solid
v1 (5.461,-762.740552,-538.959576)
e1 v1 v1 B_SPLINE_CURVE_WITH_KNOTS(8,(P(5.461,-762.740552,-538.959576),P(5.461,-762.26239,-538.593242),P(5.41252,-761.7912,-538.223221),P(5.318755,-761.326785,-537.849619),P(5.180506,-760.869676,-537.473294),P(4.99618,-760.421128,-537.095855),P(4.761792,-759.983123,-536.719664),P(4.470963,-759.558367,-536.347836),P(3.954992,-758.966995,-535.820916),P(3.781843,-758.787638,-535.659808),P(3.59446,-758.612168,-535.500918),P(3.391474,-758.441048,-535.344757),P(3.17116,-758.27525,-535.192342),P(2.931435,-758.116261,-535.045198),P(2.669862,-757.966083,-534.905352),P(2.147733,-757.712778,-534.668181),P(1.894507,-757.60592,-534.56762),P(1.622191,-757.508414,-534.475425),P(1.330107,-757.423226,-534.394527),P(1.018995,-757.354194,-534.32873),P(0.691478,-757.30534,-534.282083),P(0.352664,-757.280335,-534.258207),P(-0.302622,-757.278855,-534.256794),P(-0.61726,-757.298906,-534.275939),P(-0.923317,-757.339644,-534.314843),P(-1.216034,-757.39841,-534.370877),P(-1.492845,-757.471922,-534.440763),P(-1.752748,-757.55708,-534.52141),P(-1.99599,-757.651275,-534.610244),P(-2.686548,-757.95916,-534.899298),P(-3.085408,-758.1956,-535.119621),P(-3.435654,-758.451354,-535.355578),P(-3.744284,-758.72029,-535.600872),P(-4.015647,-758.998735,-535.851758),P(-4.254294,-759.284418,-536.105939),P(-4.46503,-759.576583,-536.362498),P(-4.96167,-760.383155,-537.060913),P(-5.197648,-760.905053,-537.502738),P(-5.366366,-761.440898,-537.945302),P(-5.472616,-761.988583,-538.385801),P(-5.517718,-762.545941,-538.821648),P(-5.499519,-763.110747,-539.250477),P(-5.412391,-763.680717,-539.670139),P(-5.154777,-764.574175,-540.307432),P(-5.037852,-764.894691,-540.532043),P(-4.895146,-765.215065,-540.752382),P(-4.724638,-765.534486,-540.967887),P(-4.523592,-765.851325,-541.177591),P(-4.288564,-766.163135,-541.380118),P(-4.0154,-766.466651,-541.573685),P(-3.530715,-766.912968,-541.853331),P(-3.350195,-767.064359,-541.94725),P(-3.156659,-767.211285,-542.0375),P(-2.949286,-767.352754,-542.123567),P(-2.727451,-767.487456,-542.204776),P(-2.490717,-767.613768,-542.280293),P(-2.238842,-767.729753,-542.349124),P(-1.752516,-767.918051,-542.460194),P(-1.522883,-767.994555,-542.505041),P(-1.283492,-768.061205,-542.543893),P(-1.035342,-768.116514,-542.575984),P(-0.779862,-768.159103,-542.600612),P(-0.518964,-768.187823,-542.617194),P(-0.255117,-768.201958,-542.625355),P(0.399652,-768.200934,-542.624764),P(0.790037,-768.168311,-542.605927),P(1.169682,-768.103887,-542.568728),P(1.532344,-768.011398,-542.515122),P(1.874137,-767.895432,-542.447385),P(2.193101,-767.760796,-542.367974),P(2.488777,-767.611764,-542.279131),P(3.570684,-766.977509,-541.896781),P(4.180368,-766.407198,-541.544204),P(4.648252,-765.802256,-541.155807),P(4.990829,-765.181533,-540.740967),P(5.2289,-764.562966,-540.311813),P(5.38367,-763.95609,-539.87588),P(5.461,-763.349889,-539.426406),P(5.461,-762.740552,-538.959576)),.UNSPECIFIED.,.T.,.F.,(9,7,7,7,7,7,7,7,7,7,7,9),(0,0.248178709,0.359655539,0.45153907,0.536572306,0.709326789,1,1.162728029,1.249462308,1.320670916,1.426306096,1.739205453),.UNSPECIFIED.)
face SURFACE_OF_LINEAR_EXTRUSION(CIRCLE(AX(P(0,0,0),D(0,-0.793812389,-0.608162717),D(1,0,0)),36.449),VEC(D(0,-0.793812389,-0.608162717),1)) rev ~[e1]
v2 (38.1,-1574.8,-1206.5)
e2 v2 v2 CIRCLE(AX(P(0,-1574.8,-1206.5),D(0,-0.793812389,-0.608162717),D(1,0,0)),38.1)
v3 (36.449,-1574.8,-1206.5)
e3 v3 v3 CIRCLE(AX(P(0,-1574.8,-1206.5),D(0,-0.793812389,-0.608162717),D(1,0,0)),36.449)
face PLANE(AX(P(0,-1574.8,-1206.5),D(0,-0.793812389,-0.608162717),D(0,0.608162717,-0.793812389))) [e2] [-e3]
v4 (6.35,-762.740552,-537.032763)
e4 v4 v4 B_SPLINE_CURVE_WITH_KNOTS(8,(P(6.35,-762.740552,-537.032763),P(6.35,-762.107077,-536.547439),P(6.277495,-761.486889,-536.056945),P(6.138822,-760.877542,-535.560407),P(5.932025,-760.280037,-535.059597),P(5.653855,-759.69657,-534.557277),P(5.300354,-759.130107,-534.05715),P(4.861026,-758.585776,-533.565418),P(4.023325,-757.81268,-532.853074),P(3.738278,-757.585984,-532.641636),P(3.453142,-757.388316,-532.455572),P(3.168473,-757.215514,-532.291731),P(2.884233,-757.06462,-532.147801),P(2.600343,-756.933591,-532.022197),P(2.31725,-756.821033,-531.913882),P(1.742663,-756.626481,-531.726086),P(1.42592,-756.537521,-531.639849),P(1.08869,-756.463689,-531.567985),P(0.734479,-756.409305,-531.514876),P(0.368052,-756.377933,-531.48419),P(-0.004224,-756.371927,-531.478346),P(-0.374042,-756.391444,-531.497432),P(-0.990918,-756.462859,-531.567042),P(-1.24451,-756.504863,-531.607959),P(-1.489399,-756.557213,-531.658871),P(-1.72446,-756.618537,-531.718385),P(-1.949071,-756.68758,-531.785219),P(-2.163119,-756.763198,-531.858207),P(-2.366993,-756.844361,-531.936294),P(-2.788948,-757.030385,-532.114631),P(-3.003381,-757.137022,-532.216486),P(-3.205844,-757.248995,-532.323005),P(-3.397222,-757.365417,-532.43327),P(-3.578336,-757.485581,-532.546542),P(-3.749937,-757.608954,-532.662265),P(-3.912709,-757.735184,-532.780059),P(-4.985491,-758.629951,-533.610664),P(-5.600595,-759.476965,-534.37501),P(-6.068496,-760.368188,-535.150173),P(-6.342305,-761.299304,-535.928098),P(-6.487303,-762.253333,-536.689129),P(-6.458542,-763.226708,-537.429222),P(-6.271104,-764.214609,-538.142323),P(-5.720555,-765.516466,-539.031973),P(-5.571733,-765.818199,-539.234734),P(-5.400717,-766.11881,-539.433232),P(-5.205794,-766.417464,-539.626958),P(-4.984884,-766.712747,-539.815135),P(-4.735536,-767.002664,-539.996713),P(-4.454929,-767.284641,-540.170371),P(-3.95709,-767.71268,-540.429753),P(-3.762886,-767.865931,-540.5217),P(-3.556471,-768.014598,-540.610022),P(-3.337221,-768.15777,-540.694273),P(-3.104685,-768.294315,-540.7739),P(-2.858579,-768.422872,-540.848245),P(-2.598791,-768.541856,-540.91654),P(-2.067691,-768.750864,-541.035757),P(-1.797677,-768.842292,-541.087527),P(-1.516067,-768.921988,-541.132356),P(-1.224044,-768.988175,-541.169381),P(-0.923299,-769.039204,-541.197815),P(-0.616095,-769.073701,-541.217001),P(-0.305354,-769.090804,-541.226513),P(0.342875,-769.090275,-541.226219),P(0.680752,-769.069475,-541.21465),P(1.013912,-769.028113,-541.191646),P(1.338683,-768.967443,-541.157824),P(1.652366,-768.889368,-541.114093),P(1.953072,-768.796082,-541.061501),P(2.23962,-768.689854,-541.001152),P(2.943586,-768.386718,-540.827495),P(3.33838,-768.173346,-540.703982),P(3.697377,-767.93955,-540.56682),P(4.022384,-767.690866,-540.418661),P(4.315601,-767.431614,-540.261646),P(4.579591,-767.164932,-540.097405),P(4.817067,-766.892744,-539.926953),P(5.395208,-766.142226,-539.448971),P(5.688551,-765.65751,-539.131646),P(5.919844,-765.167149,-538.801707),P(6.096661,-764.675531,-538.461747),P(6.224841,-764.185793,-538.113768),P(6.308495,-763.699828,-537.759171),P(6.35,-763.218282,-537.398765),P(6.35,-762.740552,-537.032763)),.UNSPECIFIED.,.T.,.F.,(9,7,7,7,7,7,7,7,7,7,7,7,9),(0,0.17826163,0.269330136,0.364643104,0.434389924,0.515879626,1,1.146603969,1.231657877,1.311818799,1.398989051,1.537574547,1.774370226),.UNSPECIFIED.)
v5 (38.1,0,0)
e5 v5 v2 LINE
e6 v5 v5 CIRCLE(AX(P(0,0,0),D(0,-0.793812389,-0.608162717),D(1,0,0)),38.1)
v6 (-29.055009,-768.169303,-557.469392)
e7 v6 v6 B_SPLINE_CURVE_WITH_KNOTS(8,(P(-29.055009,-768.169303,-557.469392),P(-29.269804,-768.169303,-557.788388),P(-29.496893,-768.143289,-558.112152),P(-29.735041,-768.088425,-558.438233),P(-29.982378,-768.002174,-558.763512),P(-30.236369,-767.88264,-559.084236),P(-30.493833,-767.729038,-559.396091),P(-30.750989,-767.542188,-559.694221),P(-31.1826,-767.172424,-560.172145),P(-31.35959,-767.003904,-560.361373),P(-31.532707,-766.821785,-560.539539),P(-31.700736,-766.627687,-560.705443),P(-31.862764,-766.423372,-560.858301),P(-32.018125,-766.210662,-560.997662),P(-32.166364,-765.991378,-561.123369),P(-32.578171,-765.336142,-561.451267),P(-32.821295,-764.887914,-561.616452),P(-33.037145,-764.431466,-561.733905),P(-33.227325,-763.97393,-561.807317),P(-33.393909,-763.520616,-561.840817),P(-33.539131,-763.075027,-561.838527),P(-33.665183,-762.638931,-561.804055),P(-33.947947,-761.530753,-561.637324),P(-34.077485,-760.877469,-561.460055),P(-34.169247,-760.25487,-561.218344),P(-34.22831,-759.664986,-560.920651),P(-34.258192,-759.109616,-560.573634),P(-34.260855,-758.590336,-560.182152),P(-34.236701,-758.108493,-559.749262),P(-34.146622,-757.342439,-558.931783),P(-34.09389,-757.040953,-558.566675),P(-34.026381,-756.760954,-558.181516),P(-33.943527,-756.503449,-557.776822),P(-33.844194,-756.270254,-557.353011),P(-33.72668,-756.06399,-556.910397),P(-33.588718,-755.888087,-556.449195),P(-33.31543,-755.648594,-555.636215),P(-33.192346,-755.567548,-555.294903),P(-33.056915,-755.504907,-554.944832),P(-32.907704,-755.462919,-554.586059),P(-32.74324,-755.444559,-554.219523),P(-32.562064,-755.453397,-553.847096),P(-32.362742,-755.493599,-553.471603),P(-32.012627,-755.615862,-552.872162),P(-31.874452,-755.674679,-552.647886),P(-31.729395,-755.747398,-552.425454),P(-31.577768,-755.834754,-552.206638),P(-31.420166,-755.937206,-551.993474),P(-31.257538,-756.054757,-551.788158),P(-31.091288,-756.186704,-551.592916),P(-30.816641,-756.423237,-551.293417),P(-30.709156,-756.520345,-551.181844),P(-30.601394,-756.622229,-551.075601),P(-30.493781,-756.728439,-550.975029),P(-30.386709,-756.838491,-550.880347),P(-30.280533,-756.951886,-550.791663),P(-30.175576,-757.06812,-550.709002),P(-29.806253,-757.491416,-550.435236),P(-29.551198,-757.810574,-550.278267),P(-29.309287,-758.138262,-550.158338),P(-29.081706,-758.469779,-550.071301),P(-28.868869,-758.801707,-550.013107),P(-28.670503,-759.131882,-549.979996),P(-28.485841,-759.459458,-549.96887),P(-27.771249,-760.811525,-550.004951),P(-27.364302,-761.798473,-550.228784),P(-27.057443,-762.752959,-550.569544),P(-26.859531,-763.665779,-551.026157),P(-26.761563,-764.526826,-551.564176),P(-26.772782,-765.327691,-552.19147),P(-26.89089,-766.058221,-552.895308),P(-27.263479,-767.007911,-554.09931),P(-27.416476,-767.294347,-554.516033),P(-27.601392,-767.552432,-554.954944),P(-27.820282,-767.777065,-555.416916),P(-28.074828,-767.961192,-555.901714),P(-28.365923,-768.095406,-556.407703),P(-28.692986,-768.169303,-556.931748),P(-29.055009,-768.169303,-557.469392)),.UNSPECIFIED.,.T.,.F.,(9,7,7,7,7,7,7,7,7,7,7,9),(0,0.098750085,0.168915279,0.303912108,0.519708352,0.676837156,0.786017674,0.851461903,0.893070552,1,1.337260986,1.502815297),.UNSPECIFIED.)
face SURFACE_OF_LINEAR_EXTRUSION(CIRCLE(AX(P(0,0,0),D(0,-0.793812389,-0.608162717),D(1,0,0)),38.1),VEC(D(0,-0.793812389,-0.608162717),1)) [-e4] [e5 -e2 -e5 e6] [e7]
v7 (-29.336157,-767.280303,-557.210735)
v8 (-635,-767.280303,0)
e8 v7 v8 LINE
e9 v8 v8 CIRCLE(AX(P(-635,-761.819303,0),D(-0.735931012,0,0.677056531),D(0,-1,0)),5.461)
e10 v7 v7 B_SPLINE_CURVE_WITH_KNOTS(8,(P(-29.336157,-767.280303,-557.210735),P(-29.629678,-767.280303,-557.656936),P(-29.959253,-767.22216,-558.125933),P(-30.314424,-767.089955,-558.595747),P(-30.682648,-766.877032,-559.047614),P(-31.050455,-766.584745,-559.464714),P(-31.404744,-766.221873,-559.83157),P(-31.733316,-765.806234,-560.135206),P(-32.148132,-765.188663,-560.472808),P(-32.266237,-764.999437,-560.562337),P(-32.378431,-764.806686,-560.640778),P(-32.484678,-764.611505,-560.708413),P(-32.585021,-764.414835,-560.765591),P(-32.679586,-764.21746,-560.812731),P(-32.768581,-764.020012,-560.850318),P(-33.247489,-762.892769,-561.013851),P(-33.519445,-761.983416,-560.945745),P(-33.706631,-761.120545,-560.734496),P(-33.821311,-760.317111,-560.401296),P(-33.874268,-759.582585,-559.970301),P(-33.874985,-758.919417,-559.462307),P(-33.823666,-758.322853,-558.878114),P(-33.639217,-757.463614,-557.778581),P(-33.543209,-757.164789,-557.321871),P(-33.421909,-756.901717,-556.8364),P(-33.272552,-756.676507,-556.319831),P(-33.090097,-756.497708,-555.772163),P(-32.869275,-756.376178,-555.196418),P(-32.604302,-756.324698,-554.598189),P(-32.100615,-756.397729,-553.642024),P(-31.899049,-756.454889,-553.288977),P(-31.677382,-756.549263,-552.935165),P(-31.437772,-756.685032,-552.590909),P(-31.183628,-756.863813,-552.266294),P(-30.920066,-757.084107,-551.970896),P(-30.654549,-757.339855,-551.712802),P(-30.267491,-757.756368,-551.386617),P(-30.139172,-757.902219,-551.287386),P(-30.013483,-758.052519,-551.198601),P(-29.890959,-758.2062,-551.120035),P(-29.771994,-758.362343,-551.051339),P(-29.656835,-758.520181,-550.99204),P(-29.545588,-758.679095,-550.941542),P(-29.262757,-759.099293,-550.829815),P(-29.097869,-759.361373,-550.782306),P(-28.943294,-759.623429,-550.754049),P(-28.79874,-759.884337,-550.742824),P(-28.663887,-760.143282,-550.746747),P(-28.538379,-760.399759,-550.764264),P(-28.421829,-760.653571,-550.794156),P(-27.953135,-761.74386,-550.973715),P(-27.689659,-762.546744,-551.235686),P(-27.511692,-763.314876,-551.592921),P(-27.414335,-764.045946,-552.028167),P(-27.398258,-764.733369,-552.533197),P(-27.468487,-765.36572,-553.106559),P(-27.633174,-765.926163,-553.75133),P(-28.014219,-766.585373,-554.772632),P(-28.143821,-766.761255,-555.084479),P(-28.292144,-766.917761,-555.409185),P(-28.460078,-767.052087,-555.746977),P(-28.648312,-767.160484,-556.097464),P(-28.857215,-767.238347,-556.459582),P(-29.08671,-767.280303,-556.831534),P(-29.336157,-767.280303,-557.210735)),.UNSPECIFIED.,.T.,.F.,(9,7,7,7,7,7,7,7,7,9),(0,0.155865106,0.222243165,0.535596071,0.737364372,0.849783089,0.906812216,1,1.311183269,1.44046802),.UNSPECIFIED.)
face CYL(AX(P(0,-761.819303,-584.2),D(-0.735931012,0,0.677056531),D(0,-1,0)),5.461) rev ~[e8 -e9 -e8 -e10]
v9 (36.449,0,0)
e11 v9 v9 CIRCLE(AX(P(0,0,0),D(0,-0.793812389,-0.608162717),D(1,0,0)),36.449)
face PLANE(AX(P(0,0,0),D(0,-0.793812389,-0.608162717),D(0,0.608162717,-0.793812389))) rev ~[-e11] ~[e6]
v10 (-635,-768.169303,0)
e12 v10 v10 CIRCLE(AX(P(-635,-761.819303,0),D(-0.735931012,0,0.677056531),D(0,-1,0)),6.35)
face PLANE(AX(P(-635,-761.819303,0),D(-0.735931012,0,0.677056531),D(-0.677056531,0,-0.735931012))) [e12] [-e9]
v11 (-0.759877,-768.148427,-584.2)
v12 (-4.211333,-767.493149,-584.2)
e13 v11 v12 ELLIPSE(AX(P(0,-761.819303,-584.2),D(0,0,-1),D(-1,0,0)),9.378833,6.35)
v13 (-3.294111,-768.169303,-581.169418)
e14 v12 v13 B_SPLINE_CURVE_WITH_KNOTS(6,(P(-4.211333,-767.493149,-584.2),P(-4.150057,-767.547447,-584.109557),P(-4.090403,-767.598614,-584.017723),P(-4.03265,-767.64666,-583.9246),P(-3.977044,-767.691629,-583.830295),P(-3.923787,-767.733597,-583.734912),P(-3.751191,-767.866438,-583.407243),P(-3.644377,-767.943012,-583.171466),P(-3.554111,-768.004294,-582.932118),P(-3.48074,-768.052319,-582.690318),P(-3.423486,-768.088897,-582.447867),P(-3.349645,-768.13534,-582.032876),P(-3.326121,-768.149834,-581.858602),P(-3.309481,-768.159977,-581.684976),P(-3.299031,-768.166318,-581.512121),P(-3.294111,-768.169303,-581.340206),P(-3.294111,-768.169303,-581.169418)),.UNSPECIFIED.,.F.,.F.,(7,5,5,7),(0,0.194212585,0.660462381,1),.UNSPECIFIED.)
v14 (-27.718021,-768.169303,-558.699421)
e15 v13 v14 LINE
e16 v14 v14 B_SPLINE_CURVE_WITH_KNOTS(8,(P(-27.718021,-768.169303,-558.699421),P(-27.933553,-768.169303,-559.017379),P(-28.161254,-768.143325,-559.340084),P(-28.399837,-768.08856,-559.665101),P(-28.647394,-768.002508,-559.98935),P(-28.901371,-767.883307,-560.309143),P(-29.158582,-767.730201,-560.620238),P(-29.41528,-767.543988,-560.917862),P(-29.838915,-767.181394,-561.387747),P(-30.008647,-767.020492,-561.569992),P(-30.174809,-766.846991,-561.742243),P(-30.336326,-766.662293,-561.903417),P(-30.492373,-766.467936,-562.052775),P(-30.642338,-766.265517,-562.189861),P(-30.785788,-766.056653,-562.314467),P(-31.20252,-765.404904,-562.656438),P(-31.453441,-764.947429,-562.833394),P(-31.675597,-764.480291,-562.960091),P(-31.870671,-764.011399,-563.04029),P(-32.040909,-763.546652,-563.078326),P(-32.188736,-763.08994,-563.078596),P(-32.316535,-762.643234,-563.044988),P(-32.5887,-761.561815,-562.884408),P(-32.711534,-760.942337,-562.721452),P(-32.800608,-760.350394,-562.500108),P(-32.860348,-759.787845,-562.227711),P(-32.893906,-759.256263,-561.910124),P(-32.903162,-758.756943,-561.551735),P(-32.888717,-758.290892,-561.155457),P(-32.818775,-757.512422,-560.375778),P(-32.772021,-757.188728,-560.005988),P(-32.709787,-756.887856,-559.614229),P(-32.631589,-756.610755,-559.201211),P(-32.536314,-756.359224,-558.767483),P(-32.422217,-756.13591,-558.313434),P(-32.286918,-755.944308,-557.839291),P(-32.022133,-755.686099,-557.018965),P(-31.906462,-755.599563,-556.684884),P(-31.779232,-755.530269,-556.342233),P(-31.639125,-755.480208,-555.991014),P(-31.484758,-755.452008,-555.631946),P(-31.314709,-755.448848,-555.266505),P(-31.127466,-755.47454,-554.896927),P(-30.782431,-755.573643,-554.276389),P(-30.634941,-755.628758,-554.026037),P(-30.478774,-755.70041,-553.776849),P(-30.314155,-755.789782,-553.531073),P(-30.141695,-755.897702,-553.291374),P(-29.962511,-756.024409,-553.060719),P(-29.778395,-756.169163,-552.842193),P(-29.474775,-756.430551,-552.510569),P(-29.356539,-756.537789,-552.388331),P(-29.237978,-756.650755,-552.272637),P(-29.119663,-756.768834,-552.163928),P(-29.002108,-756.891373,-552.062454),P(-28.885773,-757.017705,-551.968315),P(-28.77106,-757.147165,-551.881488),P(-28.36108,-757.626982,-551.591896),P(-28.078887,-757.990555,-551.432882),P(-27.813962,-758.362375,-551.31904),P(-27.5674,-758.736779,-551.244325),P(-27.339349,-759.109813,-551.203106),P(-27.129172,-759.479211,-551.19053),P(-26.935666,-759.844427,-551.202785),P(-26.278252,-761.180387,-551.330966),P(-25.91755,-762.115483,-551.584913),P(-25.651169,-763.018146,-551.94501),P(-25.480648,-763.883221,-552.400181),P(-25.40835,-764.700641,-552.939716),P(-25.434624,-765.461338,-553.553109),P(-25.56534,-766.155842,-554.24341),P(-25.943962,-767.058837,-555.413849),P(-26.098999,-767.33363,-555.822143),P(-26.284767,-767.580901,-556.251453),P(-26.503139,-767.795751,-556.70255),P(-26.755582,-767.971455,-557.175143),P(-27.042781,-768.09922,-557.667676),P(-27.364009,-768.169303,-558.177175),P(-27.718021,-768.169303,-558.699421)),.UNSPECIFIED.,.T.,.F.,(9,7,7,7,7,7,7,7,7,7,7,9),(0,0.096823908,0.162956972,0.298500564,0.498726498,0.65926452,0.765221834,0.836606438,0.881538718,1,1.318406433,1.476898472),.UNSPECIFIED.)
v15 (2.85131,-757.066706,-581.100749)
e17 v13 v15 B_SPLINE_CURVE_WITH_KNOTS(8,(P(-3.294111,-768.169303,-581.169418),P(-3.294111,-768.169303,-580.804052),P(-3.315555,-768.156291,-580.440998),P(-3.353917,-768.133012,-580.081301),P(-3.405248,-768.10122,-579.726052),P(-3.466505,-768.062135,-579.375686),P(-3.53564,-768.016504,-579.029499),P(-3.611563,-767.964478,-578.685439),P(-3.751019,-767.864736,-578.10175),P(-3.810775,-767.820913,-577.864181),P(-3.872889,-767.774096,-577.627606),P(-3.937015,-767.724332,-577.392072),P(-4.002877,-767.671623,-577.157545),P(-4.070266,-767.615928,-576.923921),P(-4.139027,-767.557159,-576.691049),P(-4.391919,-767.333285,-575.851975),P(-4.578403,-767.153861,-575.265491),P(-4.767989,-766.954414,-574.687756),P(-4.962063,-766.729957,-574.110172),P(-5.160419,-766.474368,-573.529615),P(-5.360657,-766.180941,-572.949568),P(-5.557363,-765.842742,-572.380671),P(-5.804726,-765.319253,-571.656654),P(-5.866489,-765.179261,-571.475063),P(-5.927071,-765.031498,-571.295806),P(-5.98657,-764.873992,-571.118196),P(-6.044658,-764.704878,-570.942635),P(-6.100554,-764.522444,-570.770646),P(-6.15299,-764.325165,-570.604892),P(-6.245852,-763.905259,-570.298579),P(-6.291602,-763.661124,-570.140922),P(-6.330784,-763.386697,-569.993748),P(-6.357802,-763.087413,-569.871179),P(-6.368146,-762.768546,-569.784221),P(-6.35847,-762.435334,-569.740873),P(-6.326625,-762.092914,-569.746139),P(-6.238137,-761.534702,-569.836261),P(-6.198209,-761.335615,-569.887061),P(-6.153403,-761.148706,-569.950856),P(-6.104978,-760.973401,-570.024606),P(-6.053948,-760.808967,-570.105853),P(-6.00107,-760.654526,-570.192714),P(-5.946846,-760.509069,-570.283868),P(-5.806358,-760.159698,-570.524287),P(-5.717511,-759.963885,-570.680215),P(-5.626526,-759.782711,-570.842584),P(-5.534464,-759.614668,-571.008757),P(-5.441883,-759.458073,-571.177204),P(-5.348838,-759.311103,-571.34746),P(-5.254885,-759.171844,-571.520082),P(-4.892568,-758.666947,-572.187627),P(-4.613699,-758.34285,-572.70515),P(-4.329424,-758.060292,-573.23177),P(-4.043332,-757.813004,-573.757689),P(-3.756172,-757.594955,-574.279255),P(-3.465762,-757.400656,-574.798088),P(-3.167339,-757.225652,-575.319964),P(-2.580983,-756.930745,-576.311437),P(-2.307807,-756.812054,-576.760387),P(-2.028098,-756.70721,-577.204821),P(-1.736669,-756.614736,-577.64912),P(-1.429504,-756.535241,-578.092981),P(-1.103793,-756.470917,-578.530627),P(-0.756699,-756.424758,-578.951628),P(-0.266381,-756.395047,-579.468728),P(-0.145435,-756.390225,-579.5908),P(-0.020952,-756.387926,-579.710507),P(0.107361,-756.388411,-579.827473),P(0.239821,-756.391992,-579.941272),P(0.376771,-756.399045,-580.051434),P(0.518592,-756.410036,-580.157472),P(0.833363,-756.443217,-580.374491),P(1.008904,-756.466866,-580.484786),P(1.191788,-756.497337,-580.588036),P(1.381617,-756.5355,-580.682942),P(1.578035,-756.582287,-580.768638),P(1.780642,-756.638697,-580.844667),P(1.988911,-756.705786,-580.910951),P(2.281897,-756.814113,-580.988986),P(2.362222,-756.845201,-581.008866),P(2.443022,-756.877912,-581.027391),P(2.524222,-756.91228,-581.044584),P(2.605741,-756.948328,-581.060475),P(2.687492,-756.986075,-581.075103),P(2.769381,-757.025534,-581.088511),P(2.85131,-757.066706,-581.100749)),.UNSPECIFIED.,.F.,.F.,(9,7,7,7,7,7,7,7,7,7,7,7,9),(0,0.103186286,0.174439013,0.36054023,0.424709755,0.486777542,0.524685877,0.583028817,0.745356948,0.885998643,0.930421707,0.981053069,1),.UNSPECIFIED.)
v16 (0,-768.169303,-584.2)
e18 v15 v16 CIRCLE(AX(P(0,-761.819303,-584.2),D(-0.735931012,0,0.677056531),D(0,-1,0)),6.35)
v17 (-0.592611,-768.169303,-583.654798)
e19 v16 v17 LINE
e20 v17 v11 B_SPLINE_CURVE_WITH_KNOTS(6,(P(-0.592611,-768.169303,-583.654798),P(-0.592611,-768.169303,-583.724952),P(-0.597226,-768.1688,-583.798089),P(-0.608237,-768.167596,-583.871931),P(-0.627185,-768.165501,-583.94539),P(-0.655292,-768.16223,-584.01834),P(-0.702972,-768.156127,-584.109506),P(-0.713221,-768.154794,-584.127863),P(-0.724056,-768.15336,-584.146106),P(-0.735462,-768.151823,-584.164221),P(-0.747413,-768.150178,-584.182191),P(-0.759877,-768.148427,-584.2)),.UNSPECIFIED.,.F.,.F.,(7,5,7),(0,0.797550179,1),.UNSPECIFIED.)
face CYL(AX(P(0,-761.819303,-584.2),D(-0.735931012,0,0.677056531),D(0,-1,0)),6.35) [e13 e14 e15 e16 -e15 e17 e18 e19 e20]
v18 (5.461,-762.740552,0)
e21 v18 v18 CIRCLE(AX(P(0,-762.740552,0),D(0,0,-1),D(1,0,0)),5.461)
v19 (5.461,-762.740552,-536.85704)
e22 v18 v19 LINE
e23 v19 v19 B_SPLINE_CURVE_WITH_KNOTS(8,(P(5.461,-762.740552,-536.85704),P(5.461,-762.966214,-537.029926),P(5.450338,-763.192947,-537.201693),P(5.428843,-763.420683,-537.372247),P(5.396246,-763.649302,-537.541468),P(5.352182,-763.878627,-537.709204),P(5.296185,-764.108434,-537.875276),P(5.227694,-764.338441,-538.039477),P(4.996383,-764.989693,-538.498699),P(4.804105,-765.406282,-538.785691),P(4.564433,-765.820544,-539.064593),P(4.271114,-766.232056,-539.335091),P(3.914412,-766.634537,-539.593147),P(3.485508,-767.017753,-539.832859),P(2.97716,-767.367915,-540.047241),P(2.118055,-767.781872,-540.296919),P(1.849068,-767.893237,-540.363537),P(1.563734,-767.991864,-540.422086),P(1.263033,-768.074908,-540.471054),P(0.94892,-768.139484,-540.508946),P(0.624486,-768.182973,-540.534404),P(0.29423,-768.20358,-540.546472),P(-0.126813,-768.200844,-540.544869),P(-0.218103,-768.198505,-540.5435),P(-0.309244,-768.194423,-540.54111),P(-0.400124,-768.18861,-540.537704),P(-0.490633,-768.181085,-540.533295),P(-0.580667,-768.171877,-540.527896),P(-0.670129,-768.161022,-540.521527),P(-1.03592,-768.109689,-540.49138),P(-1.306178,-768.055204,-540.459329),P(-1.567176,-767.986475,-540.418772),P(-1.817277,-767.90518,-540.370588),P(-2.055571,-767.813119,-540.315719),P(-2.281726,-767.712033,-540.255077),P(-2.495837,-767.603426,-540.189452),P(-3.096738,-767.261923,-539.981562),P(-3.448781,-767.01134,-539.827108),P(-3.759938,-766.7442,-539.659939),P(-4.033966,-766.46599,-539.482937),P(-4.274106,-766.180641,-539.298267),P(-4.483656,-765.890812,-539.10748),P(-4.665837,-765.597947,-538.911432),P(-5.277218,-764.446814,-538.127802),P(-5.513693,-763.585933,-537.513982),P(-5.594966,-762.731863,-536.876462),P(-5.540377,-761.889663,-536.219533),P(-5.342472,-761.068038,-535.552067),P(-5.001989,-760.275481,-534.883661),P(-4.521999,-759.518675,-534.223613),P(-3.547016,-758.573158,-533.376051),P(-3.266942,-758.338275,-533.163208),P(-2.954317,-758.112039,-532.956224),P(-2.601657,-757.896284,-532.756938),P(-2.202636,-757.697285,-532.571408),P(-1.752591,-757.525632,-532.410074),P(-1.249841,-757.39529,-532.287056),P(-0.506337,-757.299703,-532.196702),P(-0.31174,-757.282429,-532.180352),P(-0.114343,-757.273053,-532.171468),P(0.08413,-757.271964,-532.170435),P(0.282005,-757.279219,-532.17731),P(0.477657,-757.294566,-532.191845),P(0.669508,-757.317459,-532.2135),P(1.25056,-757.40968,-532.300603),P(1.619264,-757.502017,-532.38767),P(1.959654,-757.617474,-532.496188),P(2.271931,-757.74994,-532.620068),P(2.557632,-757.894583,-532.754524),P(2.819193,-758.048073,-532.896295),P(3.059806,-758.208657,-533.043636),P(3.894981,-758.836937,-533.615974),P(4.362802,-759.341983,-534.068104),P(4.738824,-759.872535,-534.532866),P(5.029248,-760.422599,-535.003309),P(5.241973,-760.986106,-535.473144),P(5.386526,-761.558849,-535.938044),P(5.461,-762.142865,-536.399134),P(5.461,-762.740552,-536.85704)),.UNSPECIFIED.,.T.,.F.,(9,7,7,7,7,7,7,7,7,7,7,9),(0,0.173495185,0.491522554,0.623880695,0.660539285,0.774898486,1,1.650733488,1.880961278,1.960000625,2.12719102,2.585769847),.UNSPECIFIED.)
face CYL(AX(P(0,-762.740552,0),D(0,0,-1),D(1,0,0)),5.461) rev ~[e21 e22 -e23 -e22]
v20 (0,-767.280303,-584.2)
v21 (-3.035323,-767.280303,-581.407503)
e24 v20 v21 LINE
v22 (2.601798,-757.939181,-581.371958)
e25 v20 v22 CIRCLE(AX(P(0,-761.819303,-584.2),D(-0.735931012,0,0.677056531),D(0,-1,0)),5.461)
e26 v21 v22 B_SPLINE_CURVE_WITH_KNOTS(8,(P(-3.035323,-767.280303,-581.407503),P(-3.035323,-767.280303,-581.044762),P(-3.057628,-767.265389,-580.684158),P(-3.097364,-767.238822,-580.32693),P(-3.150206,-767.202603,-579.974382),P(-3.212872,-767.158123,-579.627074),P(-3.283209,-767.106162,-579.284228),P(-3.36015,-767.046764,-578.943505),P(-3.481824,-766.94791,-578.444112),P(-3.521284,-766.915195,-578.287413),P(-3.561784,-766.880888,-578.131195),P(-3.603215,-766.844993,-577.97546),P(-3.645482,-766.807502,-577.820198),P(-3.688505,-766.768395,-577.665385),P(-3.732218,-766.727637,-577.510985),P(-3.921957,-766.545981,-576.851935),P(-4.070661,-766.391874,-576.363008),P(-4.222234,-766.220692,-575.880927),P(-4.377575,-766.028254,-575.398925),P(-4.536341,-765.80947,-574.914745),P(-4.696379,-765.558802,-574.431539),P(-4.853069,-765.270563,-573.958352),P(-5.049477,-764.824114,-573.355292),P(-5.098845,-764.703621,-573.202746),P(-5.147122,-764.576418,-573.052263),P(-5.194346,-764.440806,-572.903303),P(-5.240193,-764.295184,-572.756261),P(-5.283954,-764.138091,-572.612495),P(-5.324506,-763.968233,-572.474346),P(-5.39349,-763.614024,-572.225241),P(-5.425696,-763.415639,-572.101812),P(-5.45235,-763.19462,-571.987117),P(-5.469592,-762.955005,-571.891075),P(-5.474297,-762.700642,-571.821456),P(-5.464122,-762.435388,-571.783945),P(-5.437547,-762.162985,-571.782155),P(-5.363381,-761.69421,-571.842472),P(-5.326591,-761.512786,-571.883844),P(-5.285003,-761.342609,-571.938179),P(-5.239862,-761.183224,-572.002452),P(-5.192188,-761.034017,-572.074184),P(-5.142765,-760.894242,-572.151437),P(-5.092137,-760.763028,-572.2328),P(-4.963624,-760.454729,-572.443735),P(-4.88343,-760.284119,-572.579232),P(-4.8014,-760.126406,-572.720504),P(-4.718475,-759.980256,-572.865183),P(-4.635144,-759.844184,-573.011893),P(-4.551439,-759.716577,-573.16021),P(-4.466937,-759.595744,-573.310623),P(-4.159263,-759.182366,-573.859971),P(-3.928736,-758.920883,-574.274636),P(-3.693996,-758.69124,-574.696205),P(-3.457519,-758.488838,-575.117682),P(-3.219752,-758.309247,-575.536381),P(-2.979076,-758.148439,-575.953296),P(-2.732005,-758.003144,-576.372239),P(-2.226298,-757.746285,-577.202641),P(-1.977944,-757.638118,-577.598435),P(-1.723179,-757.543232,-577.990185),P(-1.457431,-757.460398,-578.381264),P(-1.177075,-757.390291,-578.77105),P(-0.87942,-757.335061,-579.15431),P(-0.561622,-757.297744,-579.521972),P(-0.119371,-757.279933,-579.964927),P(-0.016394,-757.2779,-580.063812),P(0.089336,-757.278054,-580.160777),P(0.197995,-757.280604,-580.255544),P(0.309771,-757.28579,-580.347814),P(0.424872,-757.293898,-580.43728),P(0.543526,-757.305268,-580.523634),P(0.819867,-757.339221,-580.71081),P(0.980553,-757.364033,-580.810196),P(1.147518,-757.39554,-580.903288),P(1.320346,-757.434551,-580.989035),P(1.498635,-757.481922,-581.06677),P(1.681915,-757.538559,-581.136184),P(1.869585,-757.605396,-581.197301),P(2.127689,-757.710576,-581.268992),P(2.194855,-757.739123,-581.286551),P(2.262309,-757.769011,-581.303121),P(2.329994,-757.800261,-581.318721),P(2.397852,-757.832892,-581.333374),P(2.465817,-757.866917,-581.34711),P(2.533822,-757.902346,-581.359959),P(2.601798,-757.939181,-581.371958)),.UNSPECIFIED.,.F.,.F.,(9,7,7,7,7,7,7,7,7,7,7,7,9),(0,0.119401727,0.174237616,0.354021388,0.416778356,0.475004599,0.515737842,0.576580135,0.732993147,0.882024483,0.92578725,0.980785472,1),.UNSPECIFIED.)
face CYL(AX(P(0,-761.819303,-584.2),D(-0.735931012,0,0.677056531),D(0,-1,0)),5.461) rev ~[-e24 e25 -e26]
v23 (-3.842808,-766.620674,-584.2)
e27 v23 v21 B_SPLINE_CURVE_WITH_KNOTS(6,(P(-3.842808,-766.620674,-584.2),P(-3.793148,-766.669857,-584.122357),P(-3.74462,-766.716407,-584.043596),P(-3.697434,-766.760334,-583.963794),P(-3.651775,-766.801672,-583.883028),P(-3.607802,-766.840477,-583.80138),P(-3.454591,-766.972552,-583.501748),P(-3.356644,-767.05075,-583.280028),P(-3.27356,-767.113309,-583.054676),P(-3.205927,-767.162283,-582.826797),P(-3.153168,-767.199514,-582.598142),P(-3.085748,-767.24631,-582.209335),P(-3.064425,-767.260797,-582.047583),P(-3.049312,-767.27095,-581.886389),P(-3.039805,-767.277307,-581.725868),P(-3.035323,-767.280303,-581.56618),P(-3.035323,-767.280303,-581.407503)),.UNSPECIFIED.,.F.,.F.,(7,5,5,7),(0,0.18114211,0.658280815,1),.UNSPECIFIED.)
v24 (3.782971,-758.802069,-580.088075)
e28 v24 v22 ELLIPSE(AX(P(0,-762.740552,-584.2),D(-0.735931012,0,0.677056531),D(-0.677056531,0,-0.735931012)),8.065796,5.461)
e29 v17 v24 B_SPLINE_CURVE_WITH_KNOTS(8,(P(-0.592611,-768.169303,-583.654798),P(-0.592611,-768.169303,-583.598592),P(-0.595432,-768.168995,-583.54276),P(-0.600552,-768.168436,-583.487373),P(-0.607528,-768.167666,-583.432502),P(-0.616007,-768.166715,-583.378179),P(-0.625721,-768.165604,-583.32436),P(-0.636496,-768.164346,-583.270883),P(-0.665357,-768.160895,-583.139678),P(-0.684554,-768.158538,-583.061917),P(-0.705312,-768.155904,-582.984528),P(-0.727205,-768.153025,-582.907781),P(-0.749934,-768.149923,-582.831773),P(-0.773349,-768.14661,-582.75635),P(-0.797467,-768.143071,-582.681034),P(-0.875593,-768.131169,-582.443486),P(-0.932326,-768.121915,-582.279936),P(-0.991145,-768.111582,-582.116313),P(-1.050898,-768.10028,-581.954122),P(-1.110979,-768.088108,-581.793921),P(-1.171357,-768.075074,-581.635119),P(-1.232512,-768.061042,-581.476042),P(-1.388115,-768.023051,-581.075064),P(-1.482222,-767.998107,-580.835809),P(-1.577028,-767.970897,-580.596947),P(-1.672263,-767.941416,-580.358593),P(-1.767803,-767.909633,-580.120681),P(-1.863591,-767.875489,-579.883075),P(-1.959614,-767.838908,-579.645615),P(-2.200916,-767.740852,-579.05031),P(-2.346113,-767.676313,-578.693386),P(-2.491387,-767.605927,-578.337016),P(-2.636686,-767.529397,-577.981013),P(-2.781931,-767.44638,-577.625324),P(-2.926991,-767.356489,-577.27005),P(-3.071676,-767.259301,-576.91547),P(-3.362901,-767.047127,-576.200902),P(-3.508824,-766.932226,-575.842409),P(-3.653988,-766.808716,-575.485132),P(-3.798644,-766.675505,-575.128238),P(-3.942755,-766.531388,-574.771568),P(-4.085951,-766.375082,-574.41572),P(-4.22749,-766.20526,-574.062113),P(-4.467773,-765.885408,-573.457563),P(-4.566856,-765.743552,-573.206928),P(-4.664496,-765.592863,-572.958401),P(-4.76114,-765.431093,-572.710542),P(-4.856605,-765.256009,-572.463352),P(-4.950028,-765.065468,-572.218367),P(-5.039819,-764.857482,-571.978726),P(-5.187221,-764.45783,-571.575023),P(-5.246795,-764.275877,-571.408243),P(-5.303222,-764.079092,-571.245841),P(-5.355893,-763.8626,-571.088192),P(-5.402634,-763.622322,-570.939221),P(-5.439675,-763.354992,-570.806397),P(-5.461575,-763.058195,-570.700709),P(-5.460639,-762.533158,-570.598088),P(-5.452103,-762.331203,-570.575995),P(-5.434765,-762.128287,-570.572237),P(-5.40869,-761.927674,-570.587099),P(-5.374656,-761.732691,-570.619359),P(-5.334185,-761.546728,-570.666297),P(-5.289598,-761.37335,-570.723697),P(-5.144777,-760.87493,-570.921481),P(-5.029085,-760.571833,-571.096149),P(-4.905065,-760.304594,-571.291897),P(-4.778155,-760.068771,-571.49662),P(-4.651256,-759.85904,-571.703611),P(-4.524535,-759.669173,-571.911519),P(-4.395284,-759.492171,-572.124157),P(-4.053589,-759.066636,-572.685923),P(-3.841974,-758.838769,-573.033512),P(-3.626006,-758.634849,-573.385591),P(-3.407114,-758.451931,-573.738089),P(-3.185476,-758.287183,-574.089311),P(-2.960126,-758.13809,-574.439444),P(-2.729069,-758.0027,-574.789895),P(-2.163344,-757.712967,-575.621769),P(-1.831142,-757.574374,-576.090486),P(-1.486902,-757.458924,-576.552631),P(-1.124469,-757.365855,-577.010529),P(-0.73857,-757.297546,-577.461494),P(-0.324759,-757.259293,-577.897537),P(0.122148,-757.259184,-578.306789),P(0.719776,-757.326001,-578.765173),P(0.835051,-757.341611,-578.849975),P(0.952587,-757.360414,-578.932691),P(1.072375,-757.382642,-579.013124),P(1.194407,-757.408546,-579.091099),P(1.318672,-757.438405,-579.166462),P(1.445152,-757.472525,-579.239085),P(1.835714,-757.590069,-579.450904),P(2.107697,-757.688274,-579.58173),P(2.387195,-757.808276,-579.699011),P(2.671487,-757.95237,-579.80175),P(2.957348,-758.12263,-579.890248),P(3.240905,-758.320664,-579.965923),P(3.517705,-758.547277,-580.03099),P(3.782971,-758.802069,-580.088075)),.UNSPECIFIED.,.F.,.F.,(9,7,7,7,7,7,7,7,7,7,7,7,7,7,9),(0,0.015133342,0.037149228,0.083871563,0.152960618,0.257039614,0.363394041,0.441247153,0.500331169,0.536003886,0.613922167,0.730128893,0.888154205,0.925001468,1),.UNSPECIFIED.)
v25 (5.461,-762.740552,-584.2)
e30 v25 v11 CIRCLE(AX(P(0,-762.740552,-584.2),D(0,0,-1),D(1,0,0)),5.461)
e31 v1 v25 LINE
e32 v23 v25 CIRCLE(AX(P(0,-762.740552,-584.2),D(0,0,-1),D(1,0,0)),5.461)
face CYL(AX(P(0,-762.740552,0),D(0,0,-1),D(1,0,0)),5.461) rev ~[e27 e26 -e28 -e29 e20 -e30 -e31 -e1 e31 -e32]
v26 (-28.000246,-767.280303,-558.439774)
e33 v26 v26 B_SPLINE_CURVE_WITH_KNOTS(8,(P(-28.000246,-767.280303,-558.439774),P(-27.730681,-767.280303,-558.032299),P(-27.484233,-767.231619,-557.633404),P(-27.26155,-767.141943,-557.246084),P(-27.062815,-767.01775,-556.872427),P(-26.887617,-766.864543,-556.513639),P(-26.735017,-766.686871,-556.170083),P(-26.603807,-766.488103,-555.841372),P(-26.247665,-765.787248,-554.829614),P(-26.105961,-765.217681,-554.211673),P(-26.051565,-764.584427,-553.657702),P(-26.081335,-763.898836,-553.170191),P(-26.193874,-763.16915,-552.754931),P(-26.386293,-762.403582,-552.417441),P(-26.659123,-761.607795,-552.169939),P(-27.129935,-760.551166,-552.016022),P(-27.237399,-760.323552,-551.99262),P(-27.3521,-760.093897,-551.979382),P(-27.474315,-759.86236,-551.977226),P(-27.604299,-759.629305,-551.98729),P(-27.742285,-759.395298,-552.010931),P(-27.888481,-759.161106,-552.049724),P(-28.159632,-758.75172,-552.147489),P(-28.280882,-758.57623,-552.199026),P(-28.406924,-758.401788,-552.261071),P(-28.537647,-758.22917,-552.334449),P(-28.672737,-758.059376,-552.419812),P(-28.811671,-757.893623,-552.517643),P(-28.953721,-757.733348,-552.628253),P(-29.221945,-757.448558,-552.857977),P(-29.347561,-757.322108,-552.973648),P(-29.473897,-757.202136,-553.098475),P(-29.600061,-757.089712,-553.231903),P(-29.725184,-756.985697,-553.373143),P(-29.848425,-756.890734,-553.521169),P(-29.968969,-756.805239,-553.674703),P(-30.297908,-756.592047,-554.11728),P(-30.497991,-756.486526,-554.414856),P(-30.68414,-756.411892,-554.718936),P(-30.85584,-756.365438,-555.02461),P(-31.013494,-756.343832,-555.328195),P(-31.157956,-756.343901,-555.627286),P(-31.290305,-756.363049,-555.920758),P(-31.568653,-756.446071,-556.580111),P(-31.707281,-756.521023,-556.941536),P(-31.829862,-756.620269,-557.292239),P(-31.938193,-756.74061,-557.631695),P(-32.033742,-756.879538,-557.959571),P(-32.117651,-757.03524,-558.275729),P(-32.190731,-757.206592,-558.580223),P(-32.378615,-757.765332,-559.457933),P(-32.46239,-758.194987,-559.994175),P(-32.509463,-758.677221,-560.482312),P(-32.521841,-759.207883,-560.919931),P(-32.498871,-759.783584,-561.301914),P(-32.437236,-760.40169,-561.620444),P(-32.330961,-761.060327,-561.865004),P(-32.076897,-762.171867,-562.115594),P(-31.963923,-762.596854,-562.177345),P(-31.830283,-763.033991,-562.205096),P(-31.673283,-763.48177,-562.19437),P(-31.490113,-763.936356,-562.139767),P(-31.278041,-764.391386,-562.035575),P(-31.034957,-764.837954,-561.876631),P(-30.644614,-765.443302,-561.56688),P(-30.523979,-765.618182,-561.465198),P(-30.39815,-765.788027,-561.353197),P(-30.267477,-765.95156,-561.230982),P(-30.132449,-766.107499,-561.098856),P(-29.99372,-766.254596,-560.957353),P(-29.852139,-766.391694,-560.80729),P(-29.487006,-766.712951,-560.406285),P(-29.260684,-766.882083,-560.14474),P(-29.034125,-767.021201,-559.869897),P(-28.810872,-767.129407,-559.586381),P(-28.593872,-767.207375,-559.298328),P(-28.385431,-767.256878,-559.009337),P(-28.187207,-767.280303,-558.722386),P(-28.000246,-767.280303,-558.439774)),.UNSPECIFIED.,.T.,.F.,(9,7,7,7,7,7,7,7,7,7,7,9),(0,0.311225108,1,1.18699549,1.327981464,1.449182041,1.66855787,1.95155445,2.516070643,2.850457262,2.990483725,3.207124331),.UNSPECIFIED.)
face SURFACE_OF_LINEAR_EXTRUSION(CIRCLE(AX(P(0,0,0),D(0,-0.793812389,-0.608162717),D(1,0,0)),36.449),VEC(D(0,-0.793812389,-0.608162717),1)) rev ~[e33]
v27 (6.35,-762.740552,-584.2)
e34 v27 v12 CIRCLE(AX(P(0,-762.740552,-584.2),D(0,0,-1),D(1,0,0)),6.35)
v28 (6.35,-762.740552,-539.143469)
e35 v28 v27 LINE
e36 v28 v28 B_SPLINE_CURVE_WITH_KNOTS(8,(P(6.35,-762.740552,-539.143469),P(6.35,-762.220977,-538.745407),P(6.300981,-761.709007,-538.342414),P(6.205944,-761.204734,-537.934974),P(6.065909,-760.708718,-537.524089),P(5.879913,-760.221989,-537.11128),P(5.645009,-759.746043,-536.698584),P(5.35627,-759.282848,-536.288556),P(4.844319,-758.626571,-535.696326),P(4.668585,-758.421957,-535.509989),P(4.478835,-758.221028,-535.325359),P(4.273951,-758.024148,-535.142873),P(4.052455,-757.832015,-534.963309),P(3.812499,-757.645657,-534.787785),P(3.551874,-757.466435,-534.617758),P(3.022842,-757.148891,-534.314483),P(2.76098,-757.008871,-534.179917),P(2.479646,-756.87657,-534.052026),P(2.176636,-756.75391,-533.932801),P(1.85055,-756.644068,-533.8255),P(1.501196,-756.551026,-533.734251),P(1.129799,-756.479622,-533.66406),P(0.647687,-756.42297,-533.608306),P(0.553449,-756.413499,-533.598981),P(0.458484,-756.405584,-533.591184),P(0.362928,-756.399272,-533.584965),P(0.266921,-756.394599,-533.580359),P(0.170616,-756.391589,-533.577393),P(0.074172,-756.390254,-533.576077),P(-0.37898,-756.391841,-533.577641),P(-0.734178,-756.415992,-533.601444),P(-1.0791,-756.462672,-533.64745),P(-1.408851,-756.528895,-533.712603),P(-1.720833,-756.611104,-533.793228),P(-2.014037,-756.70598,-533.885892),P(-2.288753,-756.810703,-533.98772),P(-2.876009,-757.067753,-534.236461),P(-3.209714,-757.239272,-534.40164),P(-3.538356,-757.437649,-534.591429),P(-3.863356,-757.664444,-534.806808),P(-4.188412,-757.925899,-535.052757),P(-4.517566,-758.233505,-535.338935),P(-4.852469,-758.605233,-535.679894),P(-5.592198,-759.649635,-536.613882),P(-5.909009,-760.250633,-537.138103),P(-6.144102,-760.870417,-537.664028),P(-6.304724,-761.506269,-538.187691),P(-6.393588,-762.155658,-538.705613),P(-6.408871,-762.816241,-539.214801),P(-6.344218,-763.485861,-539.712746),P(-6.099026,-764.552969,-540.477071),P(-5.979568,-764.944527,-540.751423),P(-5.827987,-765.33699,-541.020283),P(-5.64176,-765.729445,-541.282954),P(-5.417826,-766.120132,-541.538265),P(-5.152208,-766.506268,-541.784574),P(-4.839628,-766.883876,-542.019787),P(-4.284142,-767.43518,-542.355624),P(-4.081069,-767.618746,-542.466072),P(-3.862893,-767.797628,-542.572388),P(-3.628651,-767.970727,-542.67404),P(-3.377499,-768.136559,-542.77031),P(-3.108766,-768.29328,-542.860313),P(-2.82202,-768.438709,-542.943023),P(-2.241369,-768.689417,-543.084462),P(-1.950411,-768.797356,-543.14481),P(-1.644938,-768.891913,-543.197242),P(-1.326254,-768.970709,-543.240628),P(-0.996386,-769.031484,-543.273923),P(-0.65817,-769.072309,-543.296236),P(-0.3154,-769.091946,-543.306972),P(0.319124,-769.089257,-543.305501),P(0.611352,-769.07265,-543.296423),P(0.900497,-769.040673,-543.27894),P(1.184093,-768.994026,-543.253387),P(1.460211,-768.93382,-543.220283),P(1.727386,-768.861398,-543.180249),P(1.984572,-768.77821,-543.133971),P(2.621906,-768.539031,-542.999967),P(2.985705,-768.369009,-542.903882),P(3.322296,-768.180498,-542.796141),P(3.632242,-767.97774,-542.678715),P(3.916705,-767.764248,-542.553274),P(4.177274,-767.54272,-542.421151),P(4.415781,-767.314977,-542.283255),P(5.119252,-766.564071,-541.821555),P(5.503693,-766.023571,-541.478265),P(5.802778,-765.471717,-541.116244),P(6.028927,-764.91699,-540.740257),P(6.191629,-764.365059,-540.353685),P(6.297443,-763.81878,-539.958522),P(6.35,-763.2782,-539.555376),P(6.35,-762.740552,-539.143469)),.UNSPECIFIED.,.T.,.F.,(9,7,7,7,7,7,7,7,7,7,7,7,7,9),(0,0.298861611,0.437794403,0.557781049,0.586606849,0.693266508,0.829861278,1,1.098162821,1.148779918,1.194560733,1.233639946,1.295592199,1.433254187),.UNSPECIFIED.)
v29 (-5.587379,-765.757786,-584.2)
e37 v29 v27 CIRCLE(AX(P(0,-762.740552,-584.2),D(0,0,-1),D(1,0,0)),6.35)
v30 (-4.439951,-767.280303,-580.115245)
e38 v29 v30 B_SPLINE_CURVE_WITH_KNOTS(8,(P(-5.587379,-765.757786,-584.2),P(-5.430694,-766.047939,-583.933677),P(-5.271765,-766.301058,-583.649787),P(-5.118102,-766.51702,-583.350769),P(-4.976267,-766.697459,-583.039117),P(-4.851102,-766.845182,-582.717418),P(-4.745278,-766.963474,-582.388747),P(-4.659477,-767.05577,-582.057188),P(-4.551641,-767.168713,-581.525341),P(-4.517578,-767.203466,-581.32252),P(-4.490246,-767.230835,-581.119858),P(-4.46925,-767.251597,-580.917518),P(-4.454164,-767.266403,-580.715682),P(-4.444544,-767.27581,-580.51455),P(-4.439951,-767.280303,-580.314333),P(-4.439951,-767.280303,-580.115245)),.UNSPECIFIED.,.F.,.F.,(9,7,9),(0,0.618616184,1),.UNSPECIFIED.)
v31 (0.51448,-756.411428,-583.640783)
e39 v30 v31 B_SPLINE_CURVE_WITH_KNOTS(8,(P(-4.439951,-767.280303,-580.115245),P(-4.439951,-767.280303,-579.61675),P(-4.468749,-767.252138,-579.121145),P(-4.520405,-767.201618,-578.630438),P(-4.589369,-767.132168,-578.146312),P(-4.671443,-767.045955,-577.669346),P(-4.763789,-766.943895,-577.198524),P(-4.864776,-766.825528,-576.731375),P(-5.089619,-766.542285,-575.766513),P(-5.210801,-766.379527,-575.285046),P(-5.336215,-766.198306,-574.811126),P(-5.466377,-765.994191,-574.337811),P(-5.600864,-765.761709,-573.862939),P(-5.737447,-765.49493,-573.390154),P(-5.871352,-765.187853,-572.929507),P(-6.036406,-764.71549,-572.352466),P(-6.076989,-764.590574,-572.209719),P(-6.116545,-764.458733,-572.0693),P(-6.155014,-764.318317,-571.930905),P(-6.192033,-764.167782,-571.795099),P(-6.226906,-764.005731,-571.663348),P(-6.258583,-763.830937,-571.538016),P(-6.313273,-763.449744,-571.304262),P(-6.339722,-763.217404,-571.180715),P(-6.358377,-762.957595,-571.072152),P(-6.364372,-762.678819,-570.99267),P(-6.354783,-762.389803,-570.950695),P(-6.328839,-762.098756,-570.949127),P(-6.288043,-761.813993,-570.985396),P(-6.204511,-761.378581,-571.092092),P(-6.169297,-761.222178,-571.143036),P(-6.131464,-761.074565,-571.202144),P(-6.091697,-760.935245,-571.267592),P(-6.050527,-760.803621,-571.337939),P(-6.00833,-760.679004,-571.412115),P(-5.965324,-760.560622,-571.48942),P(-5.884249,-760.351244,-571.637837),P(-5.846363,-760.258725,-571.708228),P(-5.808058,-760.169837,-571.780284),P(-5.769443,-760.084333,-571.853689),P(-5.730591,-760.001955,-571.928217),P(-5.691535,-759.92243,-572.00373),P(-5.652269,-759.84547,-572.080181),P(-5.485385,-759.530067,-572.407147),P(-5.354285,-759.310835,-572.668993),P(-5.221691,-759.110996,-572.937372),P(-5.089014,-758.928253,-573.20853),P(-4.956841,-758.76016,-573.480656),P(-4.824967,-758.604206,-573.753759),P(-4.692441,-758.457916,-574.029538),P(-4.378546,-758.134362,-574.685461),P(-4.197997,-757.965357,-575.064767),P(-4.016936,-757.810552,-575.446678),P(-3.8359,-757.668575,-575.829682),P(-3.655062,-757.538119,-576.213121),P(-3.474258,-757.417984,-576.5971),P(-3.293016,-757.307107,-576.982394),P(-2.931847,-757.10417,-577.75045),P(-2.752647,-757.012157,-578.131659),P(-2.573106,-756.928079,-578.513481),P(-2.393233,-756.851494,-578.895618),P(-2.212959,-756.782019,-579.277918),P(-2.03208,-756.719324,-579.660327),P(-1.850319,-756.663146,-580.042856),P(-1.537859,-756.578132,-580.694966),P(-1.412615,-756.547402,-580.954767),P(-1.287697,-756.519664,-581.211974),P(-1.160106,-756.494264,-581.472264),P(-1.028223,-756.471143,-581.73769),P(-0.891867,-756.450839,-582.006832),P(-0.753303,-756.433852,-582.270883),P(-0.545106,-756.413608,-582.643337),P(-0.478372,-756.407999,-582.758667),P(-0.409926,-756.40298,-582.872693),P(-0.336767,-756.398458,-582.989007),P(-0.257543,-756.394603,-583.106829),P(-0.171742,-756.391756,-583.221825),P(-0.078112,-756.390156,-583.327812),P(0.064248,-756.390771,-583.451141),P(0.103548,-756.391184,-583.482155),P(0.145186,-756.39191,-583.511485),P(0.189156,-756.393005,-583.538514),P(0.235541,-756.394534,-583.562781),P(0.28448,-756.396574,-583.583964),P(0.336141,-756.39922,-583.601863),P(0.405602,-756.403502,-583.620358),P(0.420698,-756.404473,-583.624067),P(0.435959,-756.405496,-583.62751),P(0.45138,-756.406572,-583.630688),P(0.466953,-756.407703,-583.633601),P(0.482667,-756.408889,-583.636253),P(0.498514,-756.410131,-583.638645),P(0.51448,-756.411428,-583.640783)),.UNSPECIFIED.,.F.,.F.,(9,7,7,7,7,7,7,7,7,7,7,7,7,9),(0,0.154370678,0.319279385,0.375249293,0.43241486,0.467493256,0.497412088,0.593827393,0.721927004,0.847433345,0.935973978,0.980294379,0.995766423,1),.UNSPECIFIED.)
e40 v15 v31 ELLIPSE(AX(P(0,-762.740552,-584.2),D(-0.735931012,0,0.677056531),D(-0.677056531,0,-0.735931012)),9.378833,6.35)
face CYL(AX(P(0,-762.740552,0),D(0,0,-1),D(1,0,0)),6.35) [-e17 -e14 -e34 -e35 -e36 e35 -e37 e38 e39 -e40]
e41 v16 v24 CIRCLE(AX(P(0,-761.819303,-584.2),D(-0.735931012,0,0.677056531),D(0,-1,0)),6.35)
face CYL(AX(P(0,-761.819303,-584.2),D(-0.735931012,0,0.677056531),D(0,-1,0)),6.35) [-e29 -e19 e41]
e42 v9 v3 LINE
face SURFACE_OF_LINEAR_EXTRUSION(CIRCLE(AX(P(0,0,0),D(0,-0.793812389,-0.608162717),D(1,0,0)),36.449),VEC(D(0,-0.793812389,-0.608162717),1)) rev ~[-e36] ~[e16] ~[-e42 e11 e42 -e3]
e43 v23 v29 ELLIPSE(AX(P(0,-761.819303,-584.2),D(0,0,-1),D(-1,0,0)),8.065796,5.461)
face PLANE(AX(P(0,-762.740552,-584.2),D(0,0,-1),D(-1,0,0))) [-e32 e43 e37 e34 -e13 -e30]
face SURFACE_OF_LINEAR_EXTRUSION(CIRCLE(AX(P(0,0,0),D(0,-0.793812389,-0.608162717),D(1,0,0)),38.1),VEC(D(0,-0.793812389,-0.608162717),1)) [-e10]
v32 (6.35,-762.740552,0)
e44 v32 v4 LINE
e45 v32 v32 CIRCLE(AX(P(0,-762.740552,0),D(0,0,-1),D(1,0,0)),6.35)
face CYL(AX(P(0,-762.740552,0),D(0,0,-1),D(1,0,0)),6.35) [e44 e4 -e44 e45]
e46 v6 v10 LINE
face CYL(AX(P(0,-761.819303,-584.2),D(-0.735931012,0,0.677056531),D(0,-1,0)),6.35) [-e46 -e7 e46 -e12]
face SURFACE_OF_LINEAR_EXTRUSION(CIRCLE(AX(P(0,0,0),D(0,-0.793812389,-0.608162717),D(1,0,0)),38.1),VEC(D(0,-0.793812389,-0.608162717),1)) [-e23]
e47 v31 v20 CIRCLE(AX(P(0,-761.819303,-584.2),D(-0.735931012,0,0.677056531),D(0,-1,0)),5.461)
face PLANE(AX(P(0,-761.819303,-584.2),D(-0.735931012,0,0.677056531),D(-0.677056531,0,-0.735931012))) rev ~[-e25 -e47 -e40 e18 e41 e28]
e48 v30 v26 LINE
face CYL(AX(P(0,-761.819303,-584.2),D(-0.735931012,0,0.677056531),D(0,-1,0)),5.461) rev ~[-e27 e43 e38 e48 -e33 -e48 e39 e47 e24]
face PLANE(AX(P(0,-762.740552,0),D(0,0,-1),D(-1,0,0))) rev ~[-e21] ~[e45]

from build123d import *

# Parameters (mm, degrees)
F2_R    = 38.1
F4_R    = 36.449
F8_R    = 6.35
F8_R_2  = 5.461
F15_R   = 6.35
F15_R_2 = 5.461


with BuildPart() as f3:
    # F3: sweep along a path in F0
    with BuildLine(Plane.YZ) as f3_path:
        Line((0, 0), (-1574.8, -1206.5))
    # F2 (on line) → F3 (sweep)
    with BuildSketch(Plane(origin=(0, -1574.8, -1206.5), x_dir=(1, 0, 0), z_dir=(0, -0.7938123891, -0.6081627175))):
        Circle(F2_R)
    sweep(path=f3_path.line)

    # F5: sweep along a path in F0
    with BuildLine(Plane.YZ) as f5_path:
        Line((0, 0), (-1574.8, -1206.5))
    # F4 (on line) → F5 (sweep, cut)
    with BuildSketch(Plane(origin=(0, -1574.8, -1206.5), x_dir=(1, 0, 0), z_dir=(0, -0.7938123891, -0.6081627175))):
        Circle(F4_R)
    sweep(path=f5_path.line, mode=Mode.SUBTRACT)

    # F9: sweep along a path in F6
    with BuildLine(Plane.YZ) as f9_path:
        Line((-762, 0), (-762, -584.2))
    # F8 (on line) → F9 (sweep)
    with BuildSketch(Plane(origin=(0, 0, 0), x_dir=(1, 0, 0), z_dir=(0, 0, -1))):
        with Locations((0, 762.7405524254)):
            Circle(F8_R)
        with Locations((0, 762.7405524254)):
            Circle(F8_R_2, mode=Mode.SUBTRACT)
    sweep(path=f9_path.line)

    # F16: sweep along a path in F13
    with BuildLine(Plane(origin=(0, -761.8193030357, 0), x_dir=(-1, 0, 0), z_dir=(0, 1, 0))) as f16_path:
        Line((0, -584.2), (635, 0))
    # F15 (on line) → F16 (sweep)
    with BuildSketch(Plane(origin=(-343.9124783362, 0, 316.3994800693), x_dir=(0, -1, 0), z_dir=(-0.7359310118, 0, 0.6770565308))):
        with Locations((761.8193030357, -429.9308970713)):
            Circle(F15_R)
        with Locations((761.8193030357, -429.9308970713)):
            Circle(F15_R_2, mode=Mode.SUBTRACT)
    sweep(path=f16_path.line)


solid = f3.part
